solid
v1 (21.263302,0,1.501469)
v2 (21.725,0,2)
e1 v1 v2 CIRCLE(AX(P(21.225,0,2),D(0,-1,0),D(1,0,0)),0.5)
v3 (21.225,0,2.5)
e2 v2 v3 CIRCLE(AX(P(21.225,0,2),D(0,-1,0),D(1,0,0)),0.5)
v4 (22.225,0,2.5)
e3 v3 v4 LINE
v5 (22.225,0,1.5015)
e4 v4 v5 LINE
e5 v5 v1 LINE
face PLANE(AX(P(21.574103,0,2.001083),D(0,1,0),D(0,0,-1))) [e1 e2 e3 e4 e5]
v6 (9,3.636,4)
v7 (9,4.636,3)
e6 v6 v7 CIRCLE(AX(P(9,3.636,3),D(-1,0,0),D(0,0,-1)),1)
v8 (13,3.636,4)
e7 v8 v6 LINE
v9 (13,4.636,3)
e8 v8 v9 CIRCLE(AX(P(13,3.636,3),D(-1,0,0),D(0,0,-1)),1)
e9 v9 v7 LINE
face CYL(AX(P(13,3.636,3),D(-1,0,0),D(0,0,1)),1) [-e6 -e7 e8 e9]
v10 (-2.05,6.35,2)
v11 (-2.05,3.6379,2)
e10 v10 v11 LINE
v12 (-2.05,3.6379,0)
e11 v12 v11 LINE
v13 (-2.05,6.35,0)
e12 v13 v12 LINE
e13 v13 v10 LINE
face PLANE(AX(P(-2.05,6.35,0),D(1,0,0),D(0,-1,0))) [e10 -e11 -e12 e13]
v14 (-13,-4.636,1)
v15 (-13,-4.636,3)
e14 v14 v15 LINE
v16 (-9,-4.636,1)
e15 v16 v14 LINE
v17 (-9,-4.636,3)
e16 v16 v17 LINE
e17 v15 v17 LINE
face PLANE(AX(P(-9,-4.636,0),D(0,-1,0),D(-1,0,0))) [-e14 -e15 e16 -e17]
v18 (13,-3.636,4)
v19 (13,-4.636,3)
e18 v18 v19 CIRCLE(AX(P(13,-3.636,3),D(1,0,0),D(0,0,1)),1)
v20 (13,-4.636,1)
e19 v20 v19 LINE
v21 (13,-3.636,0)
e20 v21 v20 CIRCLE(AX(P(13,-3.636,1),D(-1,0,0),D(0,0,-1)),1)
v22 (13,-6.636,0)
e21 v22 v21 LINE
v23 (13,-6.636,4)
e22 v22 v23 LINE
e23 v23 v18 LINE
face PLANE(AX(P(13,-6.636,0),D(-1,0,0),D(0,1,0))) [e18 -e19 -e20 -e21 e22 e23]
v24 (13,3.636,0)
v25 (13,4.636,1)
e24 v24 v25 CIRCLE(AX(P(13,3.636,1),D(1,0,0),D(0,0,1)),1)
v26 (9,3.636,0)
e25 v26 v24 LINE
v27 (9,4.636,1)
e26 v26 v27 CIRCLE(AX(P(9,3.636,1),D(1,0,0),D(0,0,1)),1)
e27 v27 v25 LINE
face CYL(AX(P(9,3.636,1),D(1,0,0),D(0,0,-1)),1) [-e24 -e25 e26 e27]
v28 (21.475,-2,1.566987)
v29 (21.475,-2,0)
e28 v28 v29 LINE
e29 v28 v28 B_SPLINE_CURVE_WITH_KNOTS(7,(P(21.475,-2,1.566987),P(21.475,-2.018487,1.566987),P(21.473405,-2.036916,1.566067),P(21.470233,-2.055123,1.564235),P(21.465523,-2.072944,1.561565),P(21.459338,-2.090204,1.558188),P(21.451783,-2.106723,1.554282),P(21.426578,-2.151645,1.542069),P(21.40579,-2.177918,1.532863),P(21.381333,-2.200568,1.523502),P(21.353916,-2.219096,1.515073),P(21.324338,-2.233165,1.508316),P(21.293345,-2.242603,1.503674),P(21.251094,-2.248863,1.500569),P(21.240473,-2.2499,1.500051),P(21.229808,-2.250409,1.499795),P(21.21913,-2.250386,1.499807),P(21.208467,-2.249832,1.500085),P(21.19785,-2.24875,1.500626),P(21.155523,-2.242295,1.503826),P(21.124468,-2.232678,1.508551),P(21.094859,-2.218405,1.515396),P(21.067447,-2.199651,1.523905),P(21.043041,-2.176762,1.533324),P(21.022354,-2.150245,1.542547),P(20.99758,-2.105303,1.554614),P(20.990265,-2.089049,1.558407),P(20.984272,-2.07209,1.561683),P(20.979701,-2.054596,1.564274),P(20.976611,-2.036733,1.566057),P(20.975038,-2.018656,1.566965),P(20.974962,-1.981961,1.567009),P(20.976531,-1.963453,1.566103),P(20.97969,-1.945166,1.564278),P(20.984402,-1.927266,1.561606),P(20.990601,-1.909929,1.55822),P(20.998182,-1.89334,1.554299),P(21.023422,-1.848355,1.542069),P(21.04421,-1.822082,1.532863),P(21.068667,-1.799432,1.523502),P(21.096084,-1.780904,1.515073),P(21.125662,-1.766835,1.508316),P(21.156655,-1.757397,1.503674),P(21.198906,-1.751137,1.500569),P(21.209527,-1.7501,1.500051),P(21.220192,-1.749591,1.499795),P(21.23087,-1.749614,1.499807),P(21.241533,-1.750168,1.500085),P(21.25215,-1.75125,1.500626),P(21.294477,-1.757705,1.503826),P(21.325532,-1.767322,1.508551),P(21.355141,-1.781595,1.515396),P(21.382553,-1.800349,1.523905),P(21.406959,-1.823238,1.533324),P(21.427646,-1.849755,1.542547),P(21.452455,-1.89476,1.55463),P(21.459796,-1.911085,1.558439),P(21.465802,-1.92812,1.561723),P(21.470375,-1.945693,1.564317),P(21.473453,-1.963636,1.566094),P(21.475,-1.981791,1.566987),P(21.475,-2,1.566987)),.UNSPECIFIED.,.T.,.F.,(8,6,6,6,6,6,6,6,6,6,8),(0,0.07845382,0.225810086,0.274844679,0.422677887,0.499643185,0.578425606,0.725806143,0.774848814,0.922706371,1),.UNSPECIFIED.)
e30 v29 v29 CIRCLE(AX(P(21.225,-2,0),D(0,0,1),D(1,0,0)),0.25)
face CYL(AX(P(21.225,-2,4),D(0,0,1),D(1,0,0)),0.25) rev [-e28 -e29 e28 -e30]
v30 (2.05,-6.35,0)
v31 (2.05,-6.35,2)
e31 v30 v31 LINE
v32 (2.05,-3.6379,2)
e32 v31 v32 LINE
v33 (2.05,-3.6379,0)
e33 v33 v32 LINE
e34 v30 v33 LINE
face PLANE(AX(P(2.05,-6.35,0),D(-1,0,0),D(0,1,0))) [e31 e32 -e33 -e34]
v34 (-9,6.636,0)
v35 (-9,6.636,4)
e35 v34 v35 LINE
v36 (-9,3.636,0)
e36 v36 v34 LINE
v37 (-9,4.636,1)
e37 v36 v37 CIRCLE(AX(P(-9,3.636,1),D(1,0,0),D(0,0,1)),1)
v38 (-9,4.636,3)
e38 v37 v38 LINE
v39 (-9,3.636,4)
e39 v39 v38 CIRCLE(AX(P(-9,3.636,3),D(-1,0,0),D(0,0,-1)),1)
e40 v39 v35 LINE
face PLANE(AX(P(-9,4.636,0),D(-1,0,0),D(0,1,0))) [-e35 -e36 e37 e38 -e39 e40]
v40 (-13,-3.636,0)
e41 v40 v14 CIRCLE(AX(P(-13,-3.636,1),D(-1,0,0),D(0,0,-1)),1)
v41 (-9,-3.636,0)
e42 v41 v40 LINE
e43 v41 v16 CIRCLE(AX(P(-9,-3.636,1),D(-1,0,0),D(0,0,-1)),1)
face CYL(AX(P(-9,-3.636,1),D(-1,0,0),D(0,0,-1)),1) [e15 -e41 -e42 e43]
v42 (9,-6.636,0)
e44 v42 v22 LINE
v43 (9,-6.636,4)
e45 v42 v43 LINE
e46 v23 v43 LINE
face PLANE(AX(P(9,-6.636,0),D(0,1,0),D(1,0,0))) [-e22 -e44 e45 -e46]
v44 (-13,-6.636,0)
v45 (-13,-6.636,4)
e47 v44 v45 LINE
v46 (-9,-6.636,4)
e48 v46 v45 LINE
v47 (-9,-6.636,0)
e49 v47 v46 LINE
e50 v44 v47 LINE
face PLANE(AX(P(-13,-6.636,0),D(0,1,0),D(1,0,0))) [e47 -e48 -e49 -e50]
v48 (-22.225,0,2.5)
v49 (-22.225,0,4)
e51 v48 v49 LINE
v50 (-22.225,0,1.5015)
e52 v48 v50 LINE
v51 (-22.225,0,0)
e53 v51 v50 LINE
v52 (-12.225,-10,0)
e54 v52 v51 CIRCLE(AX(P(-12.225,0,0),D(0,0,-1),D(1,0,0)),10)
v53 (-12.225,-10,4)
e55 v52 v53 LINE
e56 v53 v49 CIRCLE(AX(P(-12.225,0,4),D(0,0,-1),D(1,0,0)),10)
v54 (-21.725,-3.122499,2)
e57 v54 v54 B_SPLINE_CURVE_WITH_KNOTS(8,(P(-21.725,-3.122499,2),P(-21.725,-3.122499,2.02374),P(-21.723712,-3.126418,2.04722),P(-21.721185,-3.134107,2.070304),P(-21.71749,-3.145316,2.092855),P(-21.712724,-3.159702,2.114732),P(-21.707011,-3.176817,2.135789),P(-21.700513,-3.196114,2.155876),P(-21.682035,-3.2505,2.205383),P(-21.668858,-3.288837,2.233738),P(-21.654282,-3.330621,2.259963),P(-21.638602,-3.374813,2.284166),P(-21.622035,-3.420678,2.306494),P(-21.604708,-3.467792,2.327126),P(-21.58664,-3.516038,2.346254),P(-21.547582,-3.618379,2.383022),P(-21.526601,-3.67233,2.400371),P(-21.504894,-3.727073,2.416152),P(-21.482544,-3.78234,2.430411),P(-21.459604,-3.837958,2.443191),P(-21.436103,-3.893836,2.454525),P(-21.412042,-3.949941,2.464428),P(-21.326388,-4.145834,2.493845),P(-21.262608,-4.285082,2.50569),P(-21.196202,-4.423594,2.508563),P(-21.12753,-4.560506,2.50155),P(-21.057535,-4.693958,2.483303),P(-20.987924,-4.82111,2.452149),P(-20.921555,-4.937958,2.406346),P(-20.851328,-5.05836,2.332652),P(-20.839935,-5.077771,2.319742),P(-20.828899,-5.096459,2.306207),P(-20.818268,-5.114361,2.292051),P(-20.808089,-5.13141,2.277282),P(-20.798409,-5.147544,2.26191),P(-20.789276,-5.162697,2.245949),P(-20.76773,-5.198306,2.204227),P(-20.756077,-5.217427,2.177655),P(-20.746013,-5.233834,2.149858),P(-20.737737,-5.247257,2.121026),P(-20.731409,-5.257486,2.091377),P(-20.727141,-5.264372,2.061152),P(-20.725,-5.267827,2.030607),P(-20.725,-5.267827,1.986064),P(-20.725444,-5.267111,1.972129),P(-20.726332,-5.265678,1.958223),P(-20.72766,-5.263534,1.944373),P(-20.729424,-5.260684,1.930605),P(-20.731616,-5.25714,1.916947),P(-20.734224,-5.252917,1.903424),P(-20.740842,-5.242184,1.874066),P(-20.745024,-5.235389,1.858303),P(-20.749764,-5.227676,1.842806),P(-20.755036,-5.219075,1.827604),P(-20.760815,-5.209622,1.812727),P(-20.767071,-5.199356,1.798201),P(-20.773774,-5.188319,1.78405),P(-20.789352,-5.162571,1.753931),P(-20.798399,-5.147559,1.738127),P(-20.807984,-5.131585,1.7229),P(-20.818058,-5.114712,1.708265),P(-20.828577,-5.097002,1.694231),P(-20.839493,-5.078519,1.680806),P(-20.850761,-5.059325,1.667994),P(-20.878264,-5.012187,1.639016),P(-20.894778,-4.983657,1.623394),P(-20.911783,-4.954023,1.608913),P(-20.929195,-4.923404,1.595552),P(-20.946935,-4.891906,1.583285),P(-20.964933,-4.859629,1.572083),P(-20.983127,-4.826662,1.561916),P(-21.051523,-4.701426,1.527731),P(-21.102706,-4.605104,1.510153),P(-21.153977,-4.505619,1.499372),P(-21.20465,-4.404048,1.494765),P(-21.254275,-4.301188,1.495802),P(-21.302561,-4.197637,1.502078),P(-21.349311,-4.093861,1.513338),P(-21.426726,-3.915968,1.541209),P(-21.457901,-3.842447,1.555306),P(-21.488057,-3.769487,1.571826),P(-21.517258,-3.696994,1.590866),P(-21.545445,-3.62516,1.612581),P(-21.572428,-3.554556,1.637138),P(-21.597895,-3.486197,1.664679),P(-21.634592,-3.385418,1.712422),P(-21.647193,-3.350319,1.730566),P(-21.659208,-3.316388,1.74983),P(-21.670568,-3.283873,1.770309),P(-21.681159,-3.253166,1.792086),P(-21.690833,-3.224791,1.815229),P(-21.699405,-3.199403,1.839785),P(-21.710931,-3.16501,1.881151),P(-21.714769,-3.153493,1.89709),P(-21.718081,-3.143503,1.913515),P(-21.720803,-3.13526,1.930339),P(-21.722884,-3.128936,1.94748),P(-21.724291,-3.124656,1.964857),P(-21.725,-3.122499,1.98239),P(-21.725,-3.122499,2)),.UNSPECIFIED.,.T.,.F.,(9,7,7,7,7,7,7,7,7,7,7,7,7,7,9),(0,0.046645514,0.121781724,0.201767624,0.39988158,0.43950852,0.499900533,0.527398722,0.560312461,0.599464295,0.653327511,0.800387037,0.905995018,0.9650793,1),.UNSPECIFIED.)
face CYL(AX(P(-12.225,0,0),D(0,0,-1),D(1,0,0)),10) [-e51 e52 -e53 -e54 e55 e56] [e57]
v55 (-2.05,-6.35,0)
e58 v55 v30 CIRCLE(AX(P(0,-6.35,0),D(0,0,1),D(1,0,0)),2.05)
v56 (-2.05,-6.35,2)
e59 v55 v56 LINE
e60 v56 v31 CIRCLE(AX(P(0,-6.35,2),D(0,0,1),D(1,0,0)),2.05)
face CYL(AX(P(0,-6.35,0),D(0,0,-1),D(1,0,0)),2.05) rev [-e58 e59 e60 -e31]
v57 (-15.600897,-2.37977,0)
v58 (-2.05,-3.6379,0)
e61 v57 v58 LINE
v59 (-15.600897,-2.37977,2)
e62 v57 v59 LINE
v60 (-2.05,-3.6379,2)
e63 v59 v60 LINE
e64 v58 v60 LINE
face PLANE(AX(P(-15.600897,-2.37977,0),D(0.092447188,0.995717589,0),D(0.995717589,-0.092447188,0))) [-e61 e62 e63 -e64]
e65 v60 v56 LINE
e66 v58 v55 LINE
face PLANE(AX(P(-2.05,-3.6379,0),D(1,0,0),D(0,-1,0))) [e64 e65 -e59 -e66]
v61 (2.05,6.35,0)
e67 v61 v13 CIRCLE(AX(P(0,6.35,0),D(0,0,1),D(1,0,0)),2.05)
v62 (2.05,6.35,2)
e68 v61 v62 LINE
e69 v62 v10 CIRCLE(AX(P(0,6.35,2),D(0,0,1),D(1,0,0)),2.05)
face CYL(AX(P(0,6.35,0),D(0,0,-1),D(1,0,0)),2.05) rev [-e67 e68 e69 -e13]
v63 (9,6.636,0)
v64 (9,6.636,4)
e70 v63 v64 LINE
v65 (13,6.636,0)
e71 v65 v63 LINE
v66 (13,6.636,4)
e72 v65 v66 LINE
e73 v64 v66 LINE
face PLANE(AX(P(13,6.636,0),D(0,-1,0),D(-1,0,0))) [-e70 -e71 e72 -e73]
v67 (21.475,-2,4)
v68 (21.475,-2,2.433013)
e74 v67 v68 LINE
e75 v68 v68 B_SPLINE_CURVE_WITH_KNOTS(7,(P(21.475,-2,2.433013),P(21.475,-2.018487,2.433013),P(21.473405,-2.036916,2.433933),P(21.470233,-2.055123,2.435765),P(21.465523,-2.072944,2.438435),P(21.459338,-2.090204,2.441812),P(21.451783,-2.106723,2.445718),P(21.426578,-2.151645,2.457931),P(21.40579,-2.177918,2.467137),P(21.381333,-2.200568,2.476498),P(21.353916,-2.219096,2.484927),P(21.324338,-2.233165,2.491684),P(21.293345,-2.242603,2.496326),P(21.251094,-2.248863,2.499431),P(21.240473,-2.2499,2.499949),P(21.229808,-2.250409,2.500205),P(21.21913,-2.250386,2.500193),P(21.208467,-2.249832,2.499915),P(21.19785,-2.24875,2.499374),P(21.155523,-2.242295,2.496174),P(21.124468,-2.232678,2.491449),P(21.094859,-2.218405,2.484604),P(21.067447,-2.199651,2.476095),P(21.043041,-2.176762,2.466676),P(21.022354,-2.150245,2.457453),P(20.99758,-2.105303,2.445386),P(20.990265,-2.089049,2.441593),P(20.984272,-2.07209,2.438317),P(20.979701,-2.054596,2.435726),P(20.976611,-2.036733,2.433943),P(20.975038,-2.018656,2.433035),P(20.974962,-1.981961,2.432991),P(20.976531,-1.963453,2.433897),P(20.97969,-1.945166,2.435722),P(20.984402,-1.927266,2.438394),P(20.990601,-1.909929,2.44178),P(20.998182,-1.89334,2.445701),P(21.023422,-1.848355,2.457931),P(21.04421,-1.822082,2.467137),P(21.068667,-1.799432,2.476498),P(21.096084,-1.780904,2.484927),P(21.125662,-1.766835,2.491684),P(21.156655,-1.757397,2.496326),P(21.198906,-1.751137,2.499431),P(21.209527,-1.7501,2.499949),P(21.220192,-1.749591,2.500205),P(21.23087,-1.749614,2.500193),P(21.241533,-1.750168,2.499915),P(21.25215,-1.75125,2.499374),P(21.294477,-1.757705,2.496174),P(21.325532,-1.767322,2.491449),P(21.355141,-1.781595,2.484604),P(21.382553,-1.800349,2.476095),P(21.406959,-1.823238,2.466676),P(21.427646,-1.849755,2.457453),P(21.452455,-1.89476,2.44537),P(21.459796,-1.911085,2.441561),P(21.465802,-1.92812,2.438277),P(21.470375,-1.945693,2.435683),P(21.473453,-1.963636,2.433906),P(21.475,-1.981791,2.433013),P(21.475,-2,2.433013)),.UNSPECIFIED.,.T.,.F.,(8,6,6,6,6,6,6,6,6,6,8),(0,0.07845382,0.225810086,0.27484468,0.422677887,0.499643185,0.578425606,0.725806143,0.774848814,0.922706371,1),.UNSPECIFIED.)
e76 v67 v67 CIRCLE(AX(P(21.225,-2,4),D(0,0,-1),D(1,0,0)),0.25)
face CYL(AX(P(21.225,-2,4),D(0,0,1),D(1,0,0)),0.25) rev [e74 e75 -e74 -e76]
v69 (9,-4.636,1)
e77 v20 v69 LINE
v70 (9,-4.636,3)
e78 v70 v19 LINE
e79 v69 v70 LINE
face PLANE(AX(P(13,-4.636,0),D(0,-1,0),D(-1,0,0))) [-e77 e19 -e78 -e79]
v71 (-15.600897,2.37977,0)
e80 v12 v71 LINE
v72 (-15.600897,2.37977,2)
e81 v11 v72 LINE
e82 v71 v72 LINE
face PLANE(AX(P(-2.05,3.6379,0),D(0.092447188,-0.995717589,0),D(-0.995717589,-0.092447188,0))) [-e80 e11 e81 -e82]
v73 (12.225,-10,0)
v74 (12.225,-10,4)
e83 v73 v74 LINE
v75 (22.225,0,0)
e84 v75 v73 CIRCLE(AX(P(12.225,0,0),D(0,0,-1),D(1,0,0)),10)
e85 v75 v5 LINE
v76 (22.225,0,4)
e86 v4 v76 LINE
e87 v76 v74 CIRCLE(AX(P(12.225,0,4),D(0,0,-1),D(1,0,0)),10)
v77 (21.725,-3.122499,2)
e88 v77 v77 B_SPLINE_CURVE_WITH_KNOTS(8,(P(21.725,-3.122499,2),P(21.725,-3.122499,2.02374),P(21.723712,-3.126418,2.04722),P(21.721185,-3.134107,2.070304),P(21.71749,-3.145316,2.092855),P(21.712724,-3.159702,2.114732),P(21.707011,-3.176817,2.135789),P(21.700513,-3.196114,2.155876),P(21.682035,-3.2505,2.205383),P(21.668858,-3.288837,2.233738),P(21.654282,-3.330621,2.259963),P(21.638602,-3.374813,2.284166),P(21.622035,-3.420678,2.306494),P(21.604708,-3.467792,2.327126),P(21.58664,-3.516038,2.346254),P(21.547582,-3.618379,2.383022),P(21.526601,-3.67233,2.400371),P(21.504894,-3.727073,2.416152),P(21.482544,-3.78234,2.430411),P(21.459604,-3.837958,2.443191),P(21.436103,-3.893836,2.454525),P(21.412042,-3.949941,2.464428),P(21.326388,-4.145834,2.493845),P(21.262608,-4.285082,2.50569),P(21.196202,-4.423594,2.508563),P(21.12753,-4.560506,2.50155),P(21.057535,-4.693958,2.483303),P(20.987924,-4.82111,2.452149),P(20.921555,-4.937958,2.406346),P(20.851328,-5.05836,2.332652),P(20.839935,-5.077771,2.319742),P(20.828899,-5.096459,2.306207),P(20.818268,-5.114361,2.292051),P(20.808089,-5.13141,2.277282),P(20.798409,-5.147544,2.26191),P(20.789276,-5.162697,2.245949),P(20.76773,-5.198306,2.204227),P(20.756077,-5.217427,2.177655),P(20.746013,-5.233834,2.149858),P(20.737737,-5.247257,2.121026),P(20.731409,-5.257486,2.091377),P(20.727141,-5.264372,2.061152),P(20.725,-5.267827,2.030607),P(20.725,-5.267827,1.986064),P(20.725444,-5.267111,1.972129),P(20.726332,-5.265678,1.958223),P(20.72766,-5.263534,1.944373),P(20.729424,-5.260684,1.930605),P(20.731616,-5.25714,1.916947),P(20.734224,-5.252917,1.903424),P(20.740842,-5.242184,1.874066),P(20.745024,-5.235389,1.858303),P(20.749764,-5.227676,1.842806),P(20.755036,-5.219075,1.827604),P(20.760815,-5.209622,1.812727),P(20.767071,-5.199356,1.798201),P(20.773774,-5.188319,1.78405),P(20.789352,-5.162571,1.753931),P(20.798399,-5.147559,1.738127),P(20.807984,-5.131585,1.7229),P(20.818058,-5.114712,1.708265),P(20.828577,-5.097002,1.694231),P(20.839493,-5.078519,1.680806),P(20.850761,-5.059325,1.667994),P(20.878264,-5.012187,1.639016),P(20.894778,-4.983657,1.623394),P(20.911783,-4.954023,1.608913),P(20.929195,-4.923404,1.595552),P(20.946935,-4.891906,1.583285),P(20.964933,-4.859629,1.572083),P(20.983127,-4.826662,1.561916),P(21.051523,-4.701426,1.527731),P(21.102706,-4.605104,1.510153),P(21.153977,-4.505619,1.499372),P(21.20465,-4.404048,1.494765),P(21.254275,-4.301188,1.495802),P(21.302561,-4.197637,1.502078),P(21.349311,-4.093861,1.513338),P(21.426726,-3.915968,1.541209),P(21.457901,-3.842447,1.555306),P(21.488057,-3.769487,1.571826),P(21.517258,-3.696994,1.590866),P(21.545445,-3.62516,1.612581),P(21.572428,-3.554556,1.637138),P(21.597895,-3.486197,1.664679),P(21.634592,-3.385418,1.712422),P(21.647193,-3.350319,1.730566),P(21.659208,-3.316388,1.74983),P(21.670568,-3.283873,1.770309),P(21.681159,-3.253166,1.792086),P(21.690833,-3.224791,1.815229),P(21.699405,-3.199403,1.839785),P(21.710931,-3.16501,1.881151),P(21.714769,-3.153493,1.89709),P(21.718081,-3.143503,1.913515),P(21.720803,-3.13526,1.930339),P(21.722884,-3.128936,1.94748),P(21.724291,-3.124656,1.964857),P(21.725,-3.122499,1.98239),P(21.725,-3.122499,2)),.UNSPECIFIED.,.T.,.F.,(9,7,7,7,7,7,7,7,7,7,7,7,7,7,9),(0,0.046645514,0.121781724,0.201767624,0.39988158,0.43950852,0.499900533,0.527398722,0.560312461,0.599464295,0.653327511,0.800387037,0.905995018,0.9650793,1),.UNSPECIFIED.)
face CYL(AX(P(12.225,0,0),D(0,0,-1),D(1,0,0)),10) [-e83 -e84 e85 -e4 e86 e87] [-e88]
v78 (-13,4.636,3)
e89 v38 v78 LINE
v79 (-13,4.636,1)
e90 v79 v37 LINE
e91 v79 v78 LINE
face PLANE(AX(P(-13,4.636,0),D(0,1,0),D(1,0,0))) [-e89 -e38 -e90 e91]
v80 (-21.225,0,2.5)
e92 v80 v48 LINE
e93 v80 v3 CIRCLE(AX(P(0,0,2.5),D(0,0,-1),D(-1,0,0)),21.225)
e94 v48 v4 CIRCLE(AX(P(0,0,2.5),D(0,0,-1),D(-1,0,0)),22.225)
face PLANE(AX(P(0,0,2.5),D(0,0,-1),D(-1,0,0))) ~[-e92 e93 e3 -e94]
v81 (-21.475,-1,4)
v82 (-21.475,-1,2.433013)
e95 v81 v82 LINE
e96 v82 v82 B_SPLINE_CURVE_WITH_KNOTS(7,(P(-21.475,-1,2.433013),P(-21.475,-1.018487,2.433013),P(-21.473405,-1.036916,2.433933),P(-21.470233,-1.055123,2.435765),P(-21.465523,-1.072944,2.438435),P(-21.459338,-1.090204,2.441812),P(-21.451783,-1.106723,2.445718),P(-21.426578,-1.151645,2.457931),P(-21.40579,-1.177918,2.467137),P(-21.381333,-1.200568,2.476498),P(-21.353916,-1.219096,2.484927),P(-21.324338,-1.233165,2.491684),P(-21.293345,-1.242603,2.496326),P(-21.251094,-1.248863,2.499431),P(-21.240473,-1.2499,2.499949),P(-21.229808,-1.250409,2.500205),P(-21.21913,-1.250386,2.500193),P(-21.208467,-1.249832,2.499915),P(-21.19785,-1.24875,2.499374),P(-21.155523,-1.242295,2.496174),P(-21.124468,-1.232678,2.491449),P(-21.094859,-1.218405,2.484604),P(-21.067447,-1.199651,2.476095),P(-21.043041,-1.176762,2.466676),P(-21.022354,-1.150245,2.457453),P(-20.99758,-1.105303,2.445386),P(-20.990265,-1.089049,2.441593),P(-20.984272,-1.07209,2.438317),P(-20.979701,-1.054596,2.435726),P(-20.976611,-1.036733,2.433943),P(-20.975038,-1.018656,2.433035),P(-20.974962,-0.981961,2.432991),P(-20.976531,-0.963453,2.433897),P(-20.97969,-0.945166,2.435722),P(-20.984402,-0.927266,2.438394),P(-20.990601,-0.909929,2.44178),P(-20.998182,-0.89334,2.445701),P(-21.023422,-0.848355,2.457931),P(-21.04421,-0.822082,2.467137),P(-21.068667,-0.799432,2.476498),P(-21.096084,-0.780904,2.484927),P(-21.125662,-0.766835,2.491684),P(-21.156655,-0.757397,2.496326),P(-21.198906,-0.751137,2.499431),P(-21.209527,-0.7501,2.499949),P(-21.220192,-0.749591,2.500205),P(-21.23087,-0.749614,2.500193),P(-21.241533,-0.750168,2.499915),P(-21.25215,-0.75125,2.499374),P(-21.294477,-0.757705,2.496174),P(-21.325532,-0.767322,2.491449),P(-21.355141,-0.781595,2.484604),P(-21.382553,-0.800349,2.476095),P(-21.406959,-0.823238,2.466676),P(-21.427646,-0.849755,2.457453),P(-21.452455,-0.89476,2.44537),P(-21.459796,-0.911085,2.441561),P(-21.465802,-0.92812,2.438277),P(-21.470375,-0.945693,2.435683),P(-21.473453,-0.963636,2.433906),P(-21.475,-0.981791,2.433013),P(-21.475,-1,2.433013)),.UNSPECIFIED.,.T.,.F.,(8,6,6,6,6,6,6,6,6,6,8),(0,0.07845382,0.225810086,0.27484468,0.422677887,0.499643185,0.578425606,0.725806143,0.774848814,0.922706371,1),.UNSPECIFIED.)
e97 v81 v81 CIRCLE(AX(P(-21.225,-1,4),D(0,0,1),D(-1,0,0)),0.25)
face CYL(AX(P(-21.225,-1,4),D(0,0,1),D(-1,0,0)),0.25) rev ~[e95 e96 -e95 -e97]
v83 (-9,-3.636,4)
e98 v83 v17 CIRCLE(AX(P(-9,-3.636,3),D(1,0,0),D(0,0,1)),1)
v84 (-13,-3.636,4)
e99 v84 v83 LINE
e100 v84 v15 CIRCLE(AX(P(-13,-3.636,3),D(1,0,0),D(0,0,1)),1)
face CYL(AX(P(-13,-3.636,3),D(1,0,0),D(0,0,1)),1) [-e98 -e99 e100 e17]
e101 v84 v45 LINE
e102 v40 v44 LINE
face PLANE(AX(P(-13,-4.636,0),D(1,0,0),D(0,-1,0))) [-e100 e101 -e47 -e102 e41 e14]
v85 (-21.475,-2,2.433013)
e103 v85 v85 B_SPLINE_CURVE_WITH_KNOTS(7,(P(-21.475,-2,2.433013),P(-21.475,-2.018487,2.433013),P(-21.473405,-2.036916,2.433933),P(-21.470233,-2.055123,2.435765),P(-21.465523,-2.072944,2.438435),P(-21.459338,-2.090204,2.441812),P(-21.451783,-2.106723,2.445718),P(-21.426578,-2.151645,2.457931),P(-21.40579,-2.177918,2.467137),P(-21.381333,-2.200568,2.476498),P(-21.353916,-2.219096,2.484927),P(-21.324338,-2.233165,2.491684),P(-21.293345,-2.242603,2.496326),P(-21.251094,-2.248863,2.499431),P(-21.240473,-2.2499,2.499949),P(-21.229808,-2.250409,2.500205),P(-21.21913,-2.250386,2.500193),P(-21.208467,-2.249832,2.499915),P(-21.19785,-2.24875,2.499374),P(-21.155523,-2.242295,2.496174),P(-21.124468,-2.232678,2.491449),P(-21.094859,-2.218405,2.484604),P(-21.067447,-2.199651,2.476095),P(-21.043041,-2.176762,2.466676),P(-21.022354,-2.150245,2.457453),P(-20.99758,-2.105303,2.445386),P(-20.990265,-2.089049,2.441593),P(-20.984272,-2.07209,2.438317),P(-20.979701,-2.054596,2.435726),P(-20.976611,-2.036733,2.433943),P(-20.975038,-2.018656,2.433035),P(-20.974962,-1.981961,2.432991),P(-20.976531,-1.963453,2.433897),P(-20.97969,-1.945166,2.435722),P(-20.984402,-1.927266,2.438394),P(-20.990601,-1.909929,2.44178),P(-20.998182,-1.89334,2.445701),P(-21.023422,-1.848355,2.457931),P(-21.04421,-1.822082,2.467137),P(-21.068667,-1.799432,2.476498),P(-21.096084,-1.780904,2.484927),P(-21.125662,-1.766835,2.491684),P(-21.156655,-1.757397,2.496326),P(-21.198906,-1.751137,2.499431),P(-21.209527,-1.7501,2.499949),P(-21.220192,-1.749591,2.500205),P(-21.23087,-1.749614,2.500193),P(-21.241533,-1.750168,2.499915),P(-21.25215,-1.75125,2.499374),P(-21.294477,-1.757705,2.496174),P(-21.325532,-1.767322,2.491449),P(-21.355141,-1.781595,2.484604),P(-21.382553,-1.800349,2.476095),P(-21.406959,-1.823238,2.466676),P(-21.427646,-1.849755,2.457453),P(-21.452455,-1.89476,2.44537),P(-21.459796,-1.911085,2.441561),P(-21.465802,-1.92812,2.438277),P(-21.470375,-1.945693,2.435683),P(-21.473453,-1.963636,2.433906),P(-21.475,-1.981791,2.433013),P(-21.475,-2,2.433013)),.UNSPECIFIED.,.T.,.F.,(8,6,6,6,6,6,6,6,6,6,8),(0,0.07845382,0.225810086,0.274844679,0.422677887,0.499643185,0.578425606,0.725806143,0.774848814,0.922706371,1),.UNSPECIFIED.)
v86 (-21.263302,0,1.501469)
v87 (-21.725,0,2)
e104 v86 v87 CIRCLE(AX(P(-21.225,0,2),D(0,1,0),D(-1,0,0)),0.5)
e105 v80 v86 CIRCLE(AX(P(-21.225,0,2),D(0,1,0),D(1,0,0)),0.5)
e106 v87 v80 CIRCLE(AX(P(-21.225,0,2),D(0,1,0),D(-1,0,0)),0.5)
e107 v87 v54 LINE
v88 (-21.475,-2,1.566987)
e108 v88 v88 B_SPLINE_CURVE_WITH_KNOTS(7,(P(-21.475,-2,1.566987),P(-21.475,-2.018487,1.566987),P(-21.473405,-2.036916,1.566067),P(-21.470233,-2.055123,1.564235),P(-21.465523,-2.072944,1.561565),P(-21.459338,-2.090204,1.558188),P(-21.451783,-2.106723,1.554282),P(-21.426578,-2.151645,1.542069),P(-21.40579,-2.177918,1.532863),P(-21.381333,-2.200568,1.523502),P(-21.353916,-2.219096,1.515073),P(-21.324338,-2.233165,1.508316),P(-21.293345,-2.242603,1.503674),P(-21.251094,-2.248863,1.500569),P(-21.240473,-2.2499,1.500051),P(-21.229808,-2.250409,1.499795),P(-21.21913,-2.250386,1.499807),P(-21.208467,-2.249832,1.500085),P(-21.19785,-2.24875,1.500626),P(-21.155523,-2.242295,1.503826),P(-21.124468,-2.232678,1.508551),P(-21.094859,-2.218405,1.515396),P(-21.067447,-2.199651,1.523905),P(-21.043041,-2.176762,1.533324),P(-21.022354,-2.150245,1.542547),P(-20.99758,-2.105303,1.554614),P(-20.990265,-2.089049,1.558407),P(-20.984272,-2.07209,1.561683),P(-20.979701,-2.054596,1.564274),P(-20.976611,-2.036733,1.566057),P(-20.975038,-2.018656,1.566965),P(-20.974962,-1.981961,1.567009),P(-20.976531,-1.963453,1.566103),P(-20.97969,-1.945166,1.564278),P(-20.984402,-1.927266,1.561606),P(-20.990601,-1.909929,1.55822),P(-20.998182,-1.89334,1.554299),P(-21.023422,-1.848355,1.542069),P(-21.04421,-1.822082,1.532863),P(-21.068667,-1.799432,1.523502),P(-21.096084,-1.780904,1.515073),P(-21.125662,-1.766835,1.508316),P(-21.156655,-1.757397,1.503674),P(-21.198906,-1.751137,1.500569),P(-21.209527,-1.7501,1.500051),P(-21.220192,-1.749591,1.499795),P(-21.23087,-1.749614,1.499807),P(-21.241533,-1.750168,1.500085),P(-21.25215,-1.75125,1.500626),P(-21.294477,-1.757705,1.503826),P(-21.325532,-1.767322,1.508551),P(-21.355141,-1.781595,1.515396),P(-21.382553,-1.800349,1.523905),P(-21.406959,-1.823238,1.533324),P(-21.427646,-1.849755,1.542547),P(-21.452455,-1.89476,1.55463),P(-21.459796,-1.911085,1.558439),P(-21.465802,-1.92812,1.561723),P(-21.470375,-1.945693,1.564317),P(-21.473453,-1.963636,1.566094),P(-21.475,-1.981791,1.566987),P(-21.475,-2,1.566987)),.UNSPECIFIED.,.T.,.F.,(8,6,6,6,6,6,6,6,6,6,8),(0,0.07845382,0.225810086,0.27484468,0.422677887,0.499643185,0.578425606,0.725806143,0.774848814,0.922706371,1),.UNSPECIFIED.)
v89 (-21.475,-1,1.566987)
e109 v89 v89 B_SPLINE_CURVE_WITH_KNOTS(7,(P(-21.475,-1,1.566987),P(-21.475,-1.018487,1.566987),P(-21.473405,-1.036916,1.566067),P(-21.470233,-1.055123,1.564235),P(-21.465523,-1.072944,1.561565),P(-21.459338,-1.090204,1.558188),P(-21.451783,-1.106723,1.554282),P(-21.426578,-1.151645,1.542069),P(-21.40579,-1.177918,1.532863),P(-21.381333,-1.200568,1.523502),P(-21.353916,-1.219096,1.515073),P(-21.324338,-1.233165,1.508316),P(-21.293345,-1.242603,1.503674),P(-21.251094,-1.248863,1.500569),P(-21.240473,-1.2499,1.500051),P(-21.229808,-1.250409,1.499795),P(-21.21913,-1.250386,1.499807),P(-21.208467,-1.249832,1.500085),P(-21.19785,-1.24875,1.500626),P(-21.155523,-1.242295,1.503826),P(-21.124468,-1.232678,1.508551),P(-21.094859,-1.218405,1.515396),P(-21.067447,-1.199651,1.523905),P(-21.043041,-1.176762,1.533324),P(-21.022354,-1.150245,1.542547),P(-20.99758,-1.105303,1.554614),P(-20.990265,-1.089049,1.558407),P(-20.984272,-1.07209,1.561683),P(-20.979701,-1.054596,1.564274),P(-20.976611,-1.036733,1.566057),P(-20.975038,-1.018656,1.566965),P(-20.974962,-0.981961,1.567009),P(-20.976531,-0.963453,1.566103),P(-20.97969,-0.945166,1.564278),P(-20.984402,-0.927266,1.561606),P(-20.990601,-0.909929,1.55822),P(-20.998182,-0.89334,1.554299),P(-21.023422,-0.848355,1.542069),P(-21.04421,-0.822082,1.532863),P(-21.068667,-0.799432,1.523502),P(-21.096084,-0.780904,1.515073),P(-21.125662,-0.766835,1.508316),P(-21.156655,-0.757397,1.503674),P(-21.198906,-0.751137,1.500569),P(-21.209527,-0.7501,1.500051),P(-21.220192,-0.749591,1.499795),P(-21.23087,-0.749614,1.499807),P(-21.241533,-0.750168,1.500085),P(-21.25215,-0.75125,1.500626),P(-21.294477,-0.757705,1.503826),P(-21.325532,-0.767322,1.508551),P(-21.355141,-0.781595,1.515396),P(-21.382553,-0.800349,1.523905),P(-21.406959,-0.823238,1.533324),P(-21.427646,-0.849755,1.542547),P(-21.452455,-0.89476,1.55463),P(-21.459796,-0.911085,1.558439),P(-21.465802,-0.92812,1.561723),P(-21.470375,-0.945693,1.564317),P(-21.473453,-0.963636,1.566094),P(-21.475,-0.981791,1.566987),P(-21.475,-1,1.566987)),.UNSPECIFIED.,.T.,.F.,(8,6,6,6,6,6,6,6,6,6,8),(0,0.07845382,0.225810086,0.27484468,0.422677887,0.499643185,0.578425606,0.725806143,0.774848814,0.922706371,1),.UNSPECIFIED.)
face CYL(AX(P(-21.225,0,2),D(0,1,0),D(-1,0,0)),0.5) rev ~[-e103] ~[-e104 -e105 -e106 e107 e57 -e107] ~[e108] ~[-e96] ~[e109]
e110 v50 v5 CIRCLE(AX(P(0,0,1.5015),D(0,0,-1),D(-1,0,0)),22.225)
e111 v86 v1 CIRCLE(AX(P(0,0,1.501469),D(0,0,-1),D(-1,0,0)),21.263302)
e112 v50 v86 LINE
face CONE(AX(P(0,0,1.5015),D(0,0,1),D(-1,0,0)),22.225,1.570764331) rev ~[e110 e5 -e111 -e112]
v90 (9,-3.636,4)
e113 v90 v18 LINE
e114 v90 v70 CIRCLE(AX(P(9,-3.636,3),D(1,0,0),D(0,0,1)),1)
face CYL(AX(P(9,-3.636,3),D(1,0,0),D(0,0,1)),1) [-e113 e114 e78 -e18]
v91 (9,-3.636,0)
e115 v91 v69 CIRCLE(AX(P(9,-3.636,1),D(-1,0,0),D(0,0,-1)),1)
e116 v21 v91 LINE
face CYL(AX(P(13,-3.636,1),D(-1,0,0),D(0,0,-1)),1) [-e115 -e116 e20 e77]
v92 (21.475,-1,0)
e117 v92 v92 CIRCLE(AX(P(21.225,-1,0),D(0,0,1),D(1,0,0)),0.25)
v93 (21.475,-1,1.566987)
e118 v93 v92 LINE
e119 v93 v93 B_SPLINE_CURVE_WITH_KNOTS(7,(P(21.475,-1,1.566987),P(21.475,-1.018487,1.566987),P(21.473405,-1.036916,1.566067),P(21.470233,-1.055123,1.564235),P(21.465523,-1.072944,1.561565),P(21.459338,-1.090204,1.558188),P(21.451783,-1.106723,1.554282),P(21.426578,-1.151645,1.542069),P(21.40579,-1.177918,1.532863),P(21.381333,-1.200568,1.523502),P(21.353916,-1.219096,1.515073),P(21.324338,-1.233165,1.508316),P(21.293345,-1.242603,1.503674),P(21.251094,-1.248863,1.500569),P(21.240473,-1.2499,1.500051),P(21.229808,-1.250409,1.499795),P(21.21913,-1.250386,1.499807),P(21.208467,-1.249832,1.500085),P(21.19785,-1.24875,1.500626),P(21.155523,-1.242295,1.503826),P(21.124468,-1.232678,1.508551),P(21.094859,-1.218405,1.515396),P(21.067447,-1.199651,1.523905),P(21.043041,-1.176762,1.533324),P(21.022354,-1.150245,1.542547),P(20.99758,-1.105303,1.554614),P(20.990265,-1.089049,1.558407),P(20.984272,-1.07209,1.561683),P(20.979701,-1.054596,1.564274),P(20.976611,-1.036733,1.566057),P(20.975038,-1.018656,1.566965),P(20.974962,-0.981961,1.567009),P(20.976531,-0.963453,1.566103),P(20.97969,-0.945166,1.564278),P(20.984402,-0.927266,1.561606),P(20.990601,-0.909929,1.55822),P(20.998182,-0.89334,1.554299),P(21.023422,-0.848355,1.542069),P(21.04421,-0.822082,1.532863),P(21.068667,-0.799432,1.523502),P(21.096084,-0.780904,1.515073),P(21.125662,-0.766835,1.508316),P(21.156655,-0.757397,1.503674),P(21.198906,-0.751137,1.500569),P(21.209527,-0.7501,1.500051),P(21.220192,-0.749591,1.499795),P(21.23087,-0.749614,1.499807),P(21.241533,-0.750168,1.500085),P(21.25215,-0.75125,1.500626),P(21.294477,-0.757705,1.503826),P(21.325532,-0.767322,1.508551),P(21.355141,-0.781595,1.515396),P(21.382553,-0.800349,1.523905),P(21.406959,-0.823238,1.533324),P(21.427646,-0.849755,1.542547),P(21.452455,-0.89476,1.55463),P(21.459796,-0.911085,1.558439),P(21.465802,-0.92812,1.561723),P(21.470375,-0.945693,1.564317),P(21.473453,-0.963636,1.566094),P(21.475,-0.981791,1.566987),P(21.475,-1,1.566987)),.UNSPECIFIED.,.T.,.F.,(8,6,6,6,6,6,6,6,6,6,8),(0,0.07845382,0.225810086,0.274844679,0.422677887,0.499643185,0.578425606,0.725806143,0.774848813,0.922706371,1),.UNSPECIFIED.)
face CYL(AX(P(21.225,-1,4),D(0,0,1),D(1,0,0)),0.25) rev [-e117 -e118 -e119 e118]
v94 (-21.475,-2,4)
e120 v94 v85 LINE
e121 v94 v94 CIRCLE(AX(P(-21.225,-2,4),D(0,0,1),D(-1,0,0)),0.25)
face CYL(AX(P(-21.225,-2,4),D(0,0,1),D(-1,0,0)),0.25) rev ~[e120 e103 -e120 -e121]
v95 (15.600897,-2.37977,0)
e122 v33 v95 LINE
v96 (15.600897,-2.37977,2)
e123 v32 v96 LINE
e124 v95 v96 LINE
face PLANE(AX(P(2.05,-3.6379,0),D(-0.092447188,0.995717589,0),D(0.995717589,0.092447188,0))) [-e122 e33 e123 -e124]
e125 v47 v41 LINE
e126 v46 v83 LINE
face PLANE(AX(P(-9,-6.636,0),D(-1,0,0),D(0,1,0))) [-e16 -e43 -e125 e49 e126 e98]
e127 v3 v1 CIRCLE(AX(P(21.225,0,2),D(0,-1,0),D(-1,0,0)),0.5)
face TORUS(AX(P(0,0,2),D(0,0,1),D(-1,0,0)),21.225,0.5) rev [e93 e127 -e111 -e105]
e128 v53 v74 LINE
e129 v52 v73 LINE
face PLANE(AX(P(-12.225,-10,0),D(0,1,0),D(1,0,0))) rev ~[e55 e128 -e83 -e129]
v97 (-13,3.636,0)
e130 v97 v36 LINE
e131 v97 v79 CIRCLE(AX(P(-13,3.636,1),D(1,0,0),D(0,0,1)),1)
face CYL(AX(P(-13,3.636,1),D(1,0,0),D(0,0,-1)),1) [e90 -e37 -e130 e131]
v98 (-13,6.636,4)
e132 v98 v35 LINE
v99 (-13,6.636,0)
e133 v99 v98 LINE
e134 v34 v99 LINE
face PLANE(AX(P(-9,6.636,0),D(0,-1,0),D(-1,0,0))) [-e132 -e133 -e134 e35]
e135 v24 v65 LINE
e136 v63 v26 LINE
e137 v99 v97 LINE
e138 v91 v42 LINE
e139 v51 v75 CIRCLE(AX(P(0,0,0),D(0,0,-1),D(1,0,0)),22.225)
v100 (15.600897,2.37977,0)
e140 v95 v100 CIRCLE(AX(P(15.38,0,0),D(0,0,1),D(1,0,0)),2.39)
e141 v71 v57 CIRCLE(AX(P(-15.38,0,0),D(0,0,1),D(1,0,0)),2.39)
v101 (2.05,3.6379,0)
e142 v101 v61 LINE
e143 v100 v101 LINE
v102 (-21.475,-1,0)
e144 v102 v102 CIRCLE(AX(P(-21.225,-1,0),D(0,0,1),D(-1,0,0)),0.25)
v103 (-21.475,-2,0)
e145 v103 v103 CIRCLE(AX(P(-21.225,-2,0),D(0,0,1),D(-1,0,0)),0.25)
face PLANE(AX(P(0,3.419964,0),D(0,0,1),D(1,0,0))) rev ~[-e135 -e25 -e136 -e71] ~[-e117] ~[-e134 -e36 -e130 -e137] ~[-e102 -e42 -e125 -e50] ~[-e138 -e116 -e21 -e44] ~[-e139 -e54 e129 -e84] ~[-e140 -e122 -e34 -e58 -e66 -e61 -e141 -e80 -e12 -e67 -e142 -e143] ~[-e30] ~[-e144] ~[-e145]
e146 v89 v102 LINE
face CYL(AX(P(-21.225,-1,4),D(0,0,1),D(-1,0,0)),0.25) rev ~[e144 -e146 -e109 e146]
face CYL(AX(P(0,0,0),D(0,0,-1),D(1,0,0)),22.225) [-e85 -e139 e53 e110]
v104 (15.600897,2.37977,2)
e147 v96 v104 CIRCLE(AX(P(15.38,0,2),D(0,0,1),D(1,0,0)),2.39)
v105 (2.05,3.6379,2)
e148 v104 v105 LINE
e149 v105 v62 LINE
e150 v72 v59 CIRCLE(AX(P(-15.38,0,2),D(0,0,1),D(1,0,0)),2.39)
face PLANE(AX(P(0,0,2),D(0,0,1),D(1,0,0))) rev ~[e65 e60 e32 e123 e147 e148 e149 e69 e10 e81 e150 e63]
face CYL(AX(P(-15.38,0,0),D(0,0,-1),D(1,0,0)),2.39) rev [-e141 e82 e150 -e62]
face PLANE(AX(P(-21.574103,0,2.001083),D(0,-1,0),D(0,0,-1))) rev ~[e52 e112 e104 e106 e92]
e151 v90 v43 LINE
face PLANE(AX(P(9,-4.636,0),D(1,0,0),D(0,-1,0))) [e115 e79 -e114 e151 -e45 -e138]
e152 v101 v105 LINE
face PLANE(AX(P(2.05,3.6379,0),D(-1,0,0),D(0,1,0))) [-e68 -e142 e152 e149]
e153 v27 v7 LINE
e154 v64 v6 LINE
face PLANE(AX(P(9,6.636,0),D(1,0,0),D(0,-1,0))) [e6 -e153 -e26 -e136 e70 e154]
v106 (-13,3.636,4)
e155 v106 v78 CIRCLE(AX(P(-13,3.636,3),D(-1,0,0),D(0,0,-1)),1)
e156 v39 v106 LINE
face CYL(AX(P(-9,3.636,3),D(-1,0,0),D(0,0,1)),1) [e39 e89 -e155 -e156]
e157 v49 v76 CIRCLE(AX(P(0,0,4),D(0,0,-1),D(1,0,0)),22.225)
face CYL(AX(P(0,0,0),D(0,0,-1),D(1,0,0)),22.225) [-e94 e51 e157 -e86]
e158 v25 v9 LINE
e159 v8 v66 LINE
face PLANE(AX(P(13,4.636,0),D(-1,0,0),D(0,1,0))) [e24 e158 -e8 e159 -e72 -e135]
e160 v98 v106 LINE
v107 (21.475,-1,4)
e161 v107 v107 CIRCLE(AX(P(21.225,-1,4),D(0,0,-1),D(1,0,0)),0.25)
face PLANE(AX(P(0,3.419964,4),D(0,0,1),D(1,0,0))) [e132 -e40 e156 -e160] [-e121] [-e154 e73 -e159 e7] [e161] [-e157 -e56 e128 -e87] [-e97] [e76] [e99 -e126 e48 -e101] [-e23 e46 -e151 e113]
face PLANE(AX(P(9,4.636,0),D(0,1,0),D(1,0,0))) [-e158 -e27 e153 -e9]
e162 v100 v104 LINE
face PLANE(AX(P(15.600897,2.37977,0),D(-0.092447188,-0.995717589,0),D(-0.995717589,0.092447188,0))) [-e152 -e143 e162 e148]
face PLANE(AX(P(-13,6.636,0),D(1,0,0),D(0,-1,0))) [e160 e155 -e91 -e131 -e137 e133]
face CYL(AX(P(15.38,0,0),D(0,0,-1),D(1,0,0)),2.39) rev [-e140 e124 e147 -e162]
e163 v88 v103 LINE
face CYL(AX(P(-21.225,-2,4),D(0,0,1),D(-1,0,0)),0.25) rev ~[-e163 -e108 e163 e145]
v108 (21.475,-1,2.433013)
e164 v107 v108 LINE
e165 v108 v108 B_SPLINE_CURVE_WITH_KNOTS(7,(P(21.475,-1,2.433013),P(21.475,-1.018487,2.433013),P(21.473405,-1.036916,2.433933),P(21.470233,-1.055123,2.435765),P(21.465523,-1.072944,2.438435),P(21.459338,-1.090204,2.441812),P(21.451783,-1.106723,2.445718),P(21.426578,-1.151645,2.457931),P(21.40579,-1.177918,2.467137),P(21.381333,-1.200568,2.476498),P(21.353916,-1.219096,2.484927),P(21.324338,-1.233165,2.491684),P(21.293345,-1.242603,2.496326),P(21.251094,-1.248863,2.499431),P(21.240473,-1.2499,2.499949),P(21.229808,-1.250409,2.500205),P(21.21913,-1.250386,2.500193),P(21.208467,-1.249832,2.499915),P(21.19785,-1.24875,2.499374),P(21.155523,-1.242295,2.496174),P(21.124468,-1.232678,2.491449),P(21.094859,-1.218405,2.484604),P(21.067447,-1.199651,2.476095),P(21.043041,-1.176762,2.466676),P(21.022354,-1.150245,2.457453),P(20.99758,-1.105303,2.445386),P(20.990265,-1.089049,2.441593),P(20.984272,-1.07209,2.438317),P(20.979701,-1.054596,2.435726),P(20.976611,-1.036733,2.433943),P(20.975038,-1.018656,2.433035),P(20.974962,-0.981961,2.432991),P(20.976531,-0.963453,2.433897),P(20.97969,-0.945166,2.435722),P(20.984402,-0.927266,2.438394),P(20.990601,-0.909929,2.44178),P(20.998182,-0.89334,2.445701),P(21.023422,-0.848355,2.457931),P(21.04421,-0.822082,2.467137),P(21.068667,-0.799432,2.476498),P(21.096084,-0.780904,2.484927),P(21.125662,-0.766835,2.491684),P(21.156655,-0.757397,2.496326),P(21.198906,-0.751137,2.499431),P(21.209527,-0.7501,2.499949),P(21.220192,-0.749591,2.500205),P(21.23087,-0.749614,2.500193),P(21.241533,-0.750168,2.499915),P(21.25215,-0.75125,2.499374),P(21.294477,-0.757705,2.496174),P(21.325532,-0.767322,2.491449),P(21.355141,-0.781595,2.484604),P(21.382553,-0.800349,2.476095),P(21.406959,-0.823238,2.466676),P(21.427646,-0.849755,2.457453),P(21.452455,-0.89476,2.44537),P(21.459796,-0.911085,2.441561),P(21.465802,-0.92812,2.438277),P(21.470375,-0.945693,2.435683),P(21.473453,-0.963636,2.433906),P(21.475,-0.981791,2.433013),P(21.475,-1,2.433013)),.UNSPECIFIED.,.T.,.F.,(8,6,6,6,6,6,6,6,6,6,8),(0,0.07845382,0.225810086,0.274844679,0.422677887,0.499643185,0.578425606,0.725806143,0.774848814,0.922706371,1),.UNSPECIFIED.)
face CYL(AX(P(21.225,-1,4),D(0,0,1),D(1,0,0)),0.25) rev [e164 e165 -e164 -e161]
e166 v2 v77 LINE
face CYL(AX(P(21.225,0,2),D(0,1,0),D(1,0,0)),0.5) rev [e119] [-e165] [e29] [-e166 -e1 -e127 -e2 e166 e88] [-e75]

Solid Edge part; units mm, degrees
sketch "Sketch1" plane through (0, 0, 0) normal (0, 0, 1) x (1, 0, 0)
  line L0 (-12.225, -10) -> (12.225, -10)
  arc A0 (-22.225, 0) -> (22.225, 0) centre (0, 0) cw
  arc A1 (22.225, 0) -> (12.225, -10) centre (12.225, 0) cw
  arc A2 (-12.225, -10) -> (-22.225, 0) centre (-12.225, 0) cw
extrude "Protrusion1" add sketch "Sketch1" along normal blind 4
sketch "Sketch2" plane through (0, 0, 0) normal (0, 0, 1) x (1, 0, 0)
  line L0 (2.05, -3.6379) -> (15.6009, -2.3798)
  arc A0 (15.6009, -2.3798) -> (15.6009, 2.3798) centre (15.38, 0) ccw
  line L1 (15.6009, 2.3798) -> (2.05, 3.6379)
  line L2 (2.05, 3.6379) -> (2.05, 6.35)
  arc A1 (2.05, 6.35) -> (-2.05, 6.35) centre (0, 6.35) ccw
  line L3 (-2.05, 6.35) -> (-2.05, 3.6379)
  line L4 (-2.05, 3.6379) -> (-15.6009, 2.3798)
  arc A2 (-15.6009, 2.3798) -> (-15.6009, -2.3798) centre (-15.38, 0) ccw
  line L5 (-15.6009, -2.3798) -> (-2.05, -3.6379)
  line L6 (-2.05, -3.6379) -> (-2.05, -6.35)
  arc A3 (-2.05, -6.35) -> (2.05, -6.35) centre (0, -6.35) ccw
  line L7 (2.05, -6.35) -> (2.05, -3.6379)
extrude "ExtrudedCutout_1" cut sketch "Sketch2" along normal blind 2
sketch "Sketch3" plane through (0, 6.1125, 0) normal (0, 0, -1) x (1, 0, 0)
  line L0 (-13, 12.7485) -> (-9, 12.7485)
  line L1 (-9, 12.7485) -> (-9, 10.7485)
  line L2 (-9, 10.7485) -> (-13, 10.7485)
  line L3 (-13, 10.7485) -> (-13, 12.7485)
  line L4 (-13, -0.5235) -> (-13, 1.4765)
  line L5 (-13, 1.4765) -> (-9, 1.4765)
  line L6 (-9, 1.4765) -> (-9, -0.5235)
  line L7 (-9, -0.5235) -> (-13, -0.5235)
  line L8 (13, -0.5235) -> (9, -0.5235)
  line L9 (9, -0.5235) -> (9, 1.4765)
  line L10 (9, 1.4765) -> (13, 1.4765)
  line L11 (13, 1.4765) -> (13, -0.5235)
  line L12 (9, 12.7485) -> (13, 12.7485)
  line L13 (13, 12.7485) -> (13, 10.7485)
  line L14 (13, 10.7485) -> (9, 10.7485)
  line L15 (9, 10.7485) -> (9, 12.7485)
  dimension "D1" = 4
  dimension "D2" = 2
  dimension "D3" = 22
  dimension "D4" = 4
  dimension "D5" = 2
  dimension "D6" = 4
  dimension "D7" = 2
  dimension "D8" = 4
  dimension "D9" = 2
extrude "Cutout1" cut sketch "Sketch3" against normal through all
fillet "Round_1" radius 1 8 edges at (11, 4.636, 0) (11, -4.636, 0) (11, -4.636, 4) (11, 4.636, 4) (-11, 4.636, 4) (-11, -4.636, 4) (-11, -4.636, 0) (-11, 4.636, 0)
sketch "Sketch4" plane through (0, 0, 0) normal (0, -1, 0) x (1, 0, 0)
  line L0 (-22.225, 1.5015) -> (-21.2633, 1.5015)
  line L1 (-22.225, 2.5) -> (-22.225, 1.5015)
  line L2 (-21.225, 2.5) -> (-22.225, 2.5)
  arc A0 (-21.225, 2.5) -> (-21.2633, 1.5015) centre (-21.225, 2) cw
revolve "RevolvedCutout_1" cut sketch "Sketch4" angle 180 about axis through (0, 0, 0) along (0, 0, -1)
sketch "Sketch5" plane through (-21.475, 0, 2) normal (0, 1, 0) x (-1, 0, 0)
  circle A0 centre (-0.25, 0) radius 0.5
extrude "Cutout2" cut sketch "Sketch5" against normal through all
sketch "Sketch6" plane through (0, 6.1125, 4) normal (0, 0, 1) x (-1, 0, 0)
  circle A0 centre (21.225, 7.1125) radius 0.25
  circle A1 centre (21.225, 8.1125) radius 0.25
  dimension "D1" = 0.5
  dimension "D2" = 1
  dimension "D3" = 0.5
  dimension "D4" = 1
extrude "Cutout3" cut sketch "Sketch6" against normal through all
mirror "Mirror1" about plane through (0, 0, 0) normal (1, 0, 0) of "Cutout3", "Cutout2"
